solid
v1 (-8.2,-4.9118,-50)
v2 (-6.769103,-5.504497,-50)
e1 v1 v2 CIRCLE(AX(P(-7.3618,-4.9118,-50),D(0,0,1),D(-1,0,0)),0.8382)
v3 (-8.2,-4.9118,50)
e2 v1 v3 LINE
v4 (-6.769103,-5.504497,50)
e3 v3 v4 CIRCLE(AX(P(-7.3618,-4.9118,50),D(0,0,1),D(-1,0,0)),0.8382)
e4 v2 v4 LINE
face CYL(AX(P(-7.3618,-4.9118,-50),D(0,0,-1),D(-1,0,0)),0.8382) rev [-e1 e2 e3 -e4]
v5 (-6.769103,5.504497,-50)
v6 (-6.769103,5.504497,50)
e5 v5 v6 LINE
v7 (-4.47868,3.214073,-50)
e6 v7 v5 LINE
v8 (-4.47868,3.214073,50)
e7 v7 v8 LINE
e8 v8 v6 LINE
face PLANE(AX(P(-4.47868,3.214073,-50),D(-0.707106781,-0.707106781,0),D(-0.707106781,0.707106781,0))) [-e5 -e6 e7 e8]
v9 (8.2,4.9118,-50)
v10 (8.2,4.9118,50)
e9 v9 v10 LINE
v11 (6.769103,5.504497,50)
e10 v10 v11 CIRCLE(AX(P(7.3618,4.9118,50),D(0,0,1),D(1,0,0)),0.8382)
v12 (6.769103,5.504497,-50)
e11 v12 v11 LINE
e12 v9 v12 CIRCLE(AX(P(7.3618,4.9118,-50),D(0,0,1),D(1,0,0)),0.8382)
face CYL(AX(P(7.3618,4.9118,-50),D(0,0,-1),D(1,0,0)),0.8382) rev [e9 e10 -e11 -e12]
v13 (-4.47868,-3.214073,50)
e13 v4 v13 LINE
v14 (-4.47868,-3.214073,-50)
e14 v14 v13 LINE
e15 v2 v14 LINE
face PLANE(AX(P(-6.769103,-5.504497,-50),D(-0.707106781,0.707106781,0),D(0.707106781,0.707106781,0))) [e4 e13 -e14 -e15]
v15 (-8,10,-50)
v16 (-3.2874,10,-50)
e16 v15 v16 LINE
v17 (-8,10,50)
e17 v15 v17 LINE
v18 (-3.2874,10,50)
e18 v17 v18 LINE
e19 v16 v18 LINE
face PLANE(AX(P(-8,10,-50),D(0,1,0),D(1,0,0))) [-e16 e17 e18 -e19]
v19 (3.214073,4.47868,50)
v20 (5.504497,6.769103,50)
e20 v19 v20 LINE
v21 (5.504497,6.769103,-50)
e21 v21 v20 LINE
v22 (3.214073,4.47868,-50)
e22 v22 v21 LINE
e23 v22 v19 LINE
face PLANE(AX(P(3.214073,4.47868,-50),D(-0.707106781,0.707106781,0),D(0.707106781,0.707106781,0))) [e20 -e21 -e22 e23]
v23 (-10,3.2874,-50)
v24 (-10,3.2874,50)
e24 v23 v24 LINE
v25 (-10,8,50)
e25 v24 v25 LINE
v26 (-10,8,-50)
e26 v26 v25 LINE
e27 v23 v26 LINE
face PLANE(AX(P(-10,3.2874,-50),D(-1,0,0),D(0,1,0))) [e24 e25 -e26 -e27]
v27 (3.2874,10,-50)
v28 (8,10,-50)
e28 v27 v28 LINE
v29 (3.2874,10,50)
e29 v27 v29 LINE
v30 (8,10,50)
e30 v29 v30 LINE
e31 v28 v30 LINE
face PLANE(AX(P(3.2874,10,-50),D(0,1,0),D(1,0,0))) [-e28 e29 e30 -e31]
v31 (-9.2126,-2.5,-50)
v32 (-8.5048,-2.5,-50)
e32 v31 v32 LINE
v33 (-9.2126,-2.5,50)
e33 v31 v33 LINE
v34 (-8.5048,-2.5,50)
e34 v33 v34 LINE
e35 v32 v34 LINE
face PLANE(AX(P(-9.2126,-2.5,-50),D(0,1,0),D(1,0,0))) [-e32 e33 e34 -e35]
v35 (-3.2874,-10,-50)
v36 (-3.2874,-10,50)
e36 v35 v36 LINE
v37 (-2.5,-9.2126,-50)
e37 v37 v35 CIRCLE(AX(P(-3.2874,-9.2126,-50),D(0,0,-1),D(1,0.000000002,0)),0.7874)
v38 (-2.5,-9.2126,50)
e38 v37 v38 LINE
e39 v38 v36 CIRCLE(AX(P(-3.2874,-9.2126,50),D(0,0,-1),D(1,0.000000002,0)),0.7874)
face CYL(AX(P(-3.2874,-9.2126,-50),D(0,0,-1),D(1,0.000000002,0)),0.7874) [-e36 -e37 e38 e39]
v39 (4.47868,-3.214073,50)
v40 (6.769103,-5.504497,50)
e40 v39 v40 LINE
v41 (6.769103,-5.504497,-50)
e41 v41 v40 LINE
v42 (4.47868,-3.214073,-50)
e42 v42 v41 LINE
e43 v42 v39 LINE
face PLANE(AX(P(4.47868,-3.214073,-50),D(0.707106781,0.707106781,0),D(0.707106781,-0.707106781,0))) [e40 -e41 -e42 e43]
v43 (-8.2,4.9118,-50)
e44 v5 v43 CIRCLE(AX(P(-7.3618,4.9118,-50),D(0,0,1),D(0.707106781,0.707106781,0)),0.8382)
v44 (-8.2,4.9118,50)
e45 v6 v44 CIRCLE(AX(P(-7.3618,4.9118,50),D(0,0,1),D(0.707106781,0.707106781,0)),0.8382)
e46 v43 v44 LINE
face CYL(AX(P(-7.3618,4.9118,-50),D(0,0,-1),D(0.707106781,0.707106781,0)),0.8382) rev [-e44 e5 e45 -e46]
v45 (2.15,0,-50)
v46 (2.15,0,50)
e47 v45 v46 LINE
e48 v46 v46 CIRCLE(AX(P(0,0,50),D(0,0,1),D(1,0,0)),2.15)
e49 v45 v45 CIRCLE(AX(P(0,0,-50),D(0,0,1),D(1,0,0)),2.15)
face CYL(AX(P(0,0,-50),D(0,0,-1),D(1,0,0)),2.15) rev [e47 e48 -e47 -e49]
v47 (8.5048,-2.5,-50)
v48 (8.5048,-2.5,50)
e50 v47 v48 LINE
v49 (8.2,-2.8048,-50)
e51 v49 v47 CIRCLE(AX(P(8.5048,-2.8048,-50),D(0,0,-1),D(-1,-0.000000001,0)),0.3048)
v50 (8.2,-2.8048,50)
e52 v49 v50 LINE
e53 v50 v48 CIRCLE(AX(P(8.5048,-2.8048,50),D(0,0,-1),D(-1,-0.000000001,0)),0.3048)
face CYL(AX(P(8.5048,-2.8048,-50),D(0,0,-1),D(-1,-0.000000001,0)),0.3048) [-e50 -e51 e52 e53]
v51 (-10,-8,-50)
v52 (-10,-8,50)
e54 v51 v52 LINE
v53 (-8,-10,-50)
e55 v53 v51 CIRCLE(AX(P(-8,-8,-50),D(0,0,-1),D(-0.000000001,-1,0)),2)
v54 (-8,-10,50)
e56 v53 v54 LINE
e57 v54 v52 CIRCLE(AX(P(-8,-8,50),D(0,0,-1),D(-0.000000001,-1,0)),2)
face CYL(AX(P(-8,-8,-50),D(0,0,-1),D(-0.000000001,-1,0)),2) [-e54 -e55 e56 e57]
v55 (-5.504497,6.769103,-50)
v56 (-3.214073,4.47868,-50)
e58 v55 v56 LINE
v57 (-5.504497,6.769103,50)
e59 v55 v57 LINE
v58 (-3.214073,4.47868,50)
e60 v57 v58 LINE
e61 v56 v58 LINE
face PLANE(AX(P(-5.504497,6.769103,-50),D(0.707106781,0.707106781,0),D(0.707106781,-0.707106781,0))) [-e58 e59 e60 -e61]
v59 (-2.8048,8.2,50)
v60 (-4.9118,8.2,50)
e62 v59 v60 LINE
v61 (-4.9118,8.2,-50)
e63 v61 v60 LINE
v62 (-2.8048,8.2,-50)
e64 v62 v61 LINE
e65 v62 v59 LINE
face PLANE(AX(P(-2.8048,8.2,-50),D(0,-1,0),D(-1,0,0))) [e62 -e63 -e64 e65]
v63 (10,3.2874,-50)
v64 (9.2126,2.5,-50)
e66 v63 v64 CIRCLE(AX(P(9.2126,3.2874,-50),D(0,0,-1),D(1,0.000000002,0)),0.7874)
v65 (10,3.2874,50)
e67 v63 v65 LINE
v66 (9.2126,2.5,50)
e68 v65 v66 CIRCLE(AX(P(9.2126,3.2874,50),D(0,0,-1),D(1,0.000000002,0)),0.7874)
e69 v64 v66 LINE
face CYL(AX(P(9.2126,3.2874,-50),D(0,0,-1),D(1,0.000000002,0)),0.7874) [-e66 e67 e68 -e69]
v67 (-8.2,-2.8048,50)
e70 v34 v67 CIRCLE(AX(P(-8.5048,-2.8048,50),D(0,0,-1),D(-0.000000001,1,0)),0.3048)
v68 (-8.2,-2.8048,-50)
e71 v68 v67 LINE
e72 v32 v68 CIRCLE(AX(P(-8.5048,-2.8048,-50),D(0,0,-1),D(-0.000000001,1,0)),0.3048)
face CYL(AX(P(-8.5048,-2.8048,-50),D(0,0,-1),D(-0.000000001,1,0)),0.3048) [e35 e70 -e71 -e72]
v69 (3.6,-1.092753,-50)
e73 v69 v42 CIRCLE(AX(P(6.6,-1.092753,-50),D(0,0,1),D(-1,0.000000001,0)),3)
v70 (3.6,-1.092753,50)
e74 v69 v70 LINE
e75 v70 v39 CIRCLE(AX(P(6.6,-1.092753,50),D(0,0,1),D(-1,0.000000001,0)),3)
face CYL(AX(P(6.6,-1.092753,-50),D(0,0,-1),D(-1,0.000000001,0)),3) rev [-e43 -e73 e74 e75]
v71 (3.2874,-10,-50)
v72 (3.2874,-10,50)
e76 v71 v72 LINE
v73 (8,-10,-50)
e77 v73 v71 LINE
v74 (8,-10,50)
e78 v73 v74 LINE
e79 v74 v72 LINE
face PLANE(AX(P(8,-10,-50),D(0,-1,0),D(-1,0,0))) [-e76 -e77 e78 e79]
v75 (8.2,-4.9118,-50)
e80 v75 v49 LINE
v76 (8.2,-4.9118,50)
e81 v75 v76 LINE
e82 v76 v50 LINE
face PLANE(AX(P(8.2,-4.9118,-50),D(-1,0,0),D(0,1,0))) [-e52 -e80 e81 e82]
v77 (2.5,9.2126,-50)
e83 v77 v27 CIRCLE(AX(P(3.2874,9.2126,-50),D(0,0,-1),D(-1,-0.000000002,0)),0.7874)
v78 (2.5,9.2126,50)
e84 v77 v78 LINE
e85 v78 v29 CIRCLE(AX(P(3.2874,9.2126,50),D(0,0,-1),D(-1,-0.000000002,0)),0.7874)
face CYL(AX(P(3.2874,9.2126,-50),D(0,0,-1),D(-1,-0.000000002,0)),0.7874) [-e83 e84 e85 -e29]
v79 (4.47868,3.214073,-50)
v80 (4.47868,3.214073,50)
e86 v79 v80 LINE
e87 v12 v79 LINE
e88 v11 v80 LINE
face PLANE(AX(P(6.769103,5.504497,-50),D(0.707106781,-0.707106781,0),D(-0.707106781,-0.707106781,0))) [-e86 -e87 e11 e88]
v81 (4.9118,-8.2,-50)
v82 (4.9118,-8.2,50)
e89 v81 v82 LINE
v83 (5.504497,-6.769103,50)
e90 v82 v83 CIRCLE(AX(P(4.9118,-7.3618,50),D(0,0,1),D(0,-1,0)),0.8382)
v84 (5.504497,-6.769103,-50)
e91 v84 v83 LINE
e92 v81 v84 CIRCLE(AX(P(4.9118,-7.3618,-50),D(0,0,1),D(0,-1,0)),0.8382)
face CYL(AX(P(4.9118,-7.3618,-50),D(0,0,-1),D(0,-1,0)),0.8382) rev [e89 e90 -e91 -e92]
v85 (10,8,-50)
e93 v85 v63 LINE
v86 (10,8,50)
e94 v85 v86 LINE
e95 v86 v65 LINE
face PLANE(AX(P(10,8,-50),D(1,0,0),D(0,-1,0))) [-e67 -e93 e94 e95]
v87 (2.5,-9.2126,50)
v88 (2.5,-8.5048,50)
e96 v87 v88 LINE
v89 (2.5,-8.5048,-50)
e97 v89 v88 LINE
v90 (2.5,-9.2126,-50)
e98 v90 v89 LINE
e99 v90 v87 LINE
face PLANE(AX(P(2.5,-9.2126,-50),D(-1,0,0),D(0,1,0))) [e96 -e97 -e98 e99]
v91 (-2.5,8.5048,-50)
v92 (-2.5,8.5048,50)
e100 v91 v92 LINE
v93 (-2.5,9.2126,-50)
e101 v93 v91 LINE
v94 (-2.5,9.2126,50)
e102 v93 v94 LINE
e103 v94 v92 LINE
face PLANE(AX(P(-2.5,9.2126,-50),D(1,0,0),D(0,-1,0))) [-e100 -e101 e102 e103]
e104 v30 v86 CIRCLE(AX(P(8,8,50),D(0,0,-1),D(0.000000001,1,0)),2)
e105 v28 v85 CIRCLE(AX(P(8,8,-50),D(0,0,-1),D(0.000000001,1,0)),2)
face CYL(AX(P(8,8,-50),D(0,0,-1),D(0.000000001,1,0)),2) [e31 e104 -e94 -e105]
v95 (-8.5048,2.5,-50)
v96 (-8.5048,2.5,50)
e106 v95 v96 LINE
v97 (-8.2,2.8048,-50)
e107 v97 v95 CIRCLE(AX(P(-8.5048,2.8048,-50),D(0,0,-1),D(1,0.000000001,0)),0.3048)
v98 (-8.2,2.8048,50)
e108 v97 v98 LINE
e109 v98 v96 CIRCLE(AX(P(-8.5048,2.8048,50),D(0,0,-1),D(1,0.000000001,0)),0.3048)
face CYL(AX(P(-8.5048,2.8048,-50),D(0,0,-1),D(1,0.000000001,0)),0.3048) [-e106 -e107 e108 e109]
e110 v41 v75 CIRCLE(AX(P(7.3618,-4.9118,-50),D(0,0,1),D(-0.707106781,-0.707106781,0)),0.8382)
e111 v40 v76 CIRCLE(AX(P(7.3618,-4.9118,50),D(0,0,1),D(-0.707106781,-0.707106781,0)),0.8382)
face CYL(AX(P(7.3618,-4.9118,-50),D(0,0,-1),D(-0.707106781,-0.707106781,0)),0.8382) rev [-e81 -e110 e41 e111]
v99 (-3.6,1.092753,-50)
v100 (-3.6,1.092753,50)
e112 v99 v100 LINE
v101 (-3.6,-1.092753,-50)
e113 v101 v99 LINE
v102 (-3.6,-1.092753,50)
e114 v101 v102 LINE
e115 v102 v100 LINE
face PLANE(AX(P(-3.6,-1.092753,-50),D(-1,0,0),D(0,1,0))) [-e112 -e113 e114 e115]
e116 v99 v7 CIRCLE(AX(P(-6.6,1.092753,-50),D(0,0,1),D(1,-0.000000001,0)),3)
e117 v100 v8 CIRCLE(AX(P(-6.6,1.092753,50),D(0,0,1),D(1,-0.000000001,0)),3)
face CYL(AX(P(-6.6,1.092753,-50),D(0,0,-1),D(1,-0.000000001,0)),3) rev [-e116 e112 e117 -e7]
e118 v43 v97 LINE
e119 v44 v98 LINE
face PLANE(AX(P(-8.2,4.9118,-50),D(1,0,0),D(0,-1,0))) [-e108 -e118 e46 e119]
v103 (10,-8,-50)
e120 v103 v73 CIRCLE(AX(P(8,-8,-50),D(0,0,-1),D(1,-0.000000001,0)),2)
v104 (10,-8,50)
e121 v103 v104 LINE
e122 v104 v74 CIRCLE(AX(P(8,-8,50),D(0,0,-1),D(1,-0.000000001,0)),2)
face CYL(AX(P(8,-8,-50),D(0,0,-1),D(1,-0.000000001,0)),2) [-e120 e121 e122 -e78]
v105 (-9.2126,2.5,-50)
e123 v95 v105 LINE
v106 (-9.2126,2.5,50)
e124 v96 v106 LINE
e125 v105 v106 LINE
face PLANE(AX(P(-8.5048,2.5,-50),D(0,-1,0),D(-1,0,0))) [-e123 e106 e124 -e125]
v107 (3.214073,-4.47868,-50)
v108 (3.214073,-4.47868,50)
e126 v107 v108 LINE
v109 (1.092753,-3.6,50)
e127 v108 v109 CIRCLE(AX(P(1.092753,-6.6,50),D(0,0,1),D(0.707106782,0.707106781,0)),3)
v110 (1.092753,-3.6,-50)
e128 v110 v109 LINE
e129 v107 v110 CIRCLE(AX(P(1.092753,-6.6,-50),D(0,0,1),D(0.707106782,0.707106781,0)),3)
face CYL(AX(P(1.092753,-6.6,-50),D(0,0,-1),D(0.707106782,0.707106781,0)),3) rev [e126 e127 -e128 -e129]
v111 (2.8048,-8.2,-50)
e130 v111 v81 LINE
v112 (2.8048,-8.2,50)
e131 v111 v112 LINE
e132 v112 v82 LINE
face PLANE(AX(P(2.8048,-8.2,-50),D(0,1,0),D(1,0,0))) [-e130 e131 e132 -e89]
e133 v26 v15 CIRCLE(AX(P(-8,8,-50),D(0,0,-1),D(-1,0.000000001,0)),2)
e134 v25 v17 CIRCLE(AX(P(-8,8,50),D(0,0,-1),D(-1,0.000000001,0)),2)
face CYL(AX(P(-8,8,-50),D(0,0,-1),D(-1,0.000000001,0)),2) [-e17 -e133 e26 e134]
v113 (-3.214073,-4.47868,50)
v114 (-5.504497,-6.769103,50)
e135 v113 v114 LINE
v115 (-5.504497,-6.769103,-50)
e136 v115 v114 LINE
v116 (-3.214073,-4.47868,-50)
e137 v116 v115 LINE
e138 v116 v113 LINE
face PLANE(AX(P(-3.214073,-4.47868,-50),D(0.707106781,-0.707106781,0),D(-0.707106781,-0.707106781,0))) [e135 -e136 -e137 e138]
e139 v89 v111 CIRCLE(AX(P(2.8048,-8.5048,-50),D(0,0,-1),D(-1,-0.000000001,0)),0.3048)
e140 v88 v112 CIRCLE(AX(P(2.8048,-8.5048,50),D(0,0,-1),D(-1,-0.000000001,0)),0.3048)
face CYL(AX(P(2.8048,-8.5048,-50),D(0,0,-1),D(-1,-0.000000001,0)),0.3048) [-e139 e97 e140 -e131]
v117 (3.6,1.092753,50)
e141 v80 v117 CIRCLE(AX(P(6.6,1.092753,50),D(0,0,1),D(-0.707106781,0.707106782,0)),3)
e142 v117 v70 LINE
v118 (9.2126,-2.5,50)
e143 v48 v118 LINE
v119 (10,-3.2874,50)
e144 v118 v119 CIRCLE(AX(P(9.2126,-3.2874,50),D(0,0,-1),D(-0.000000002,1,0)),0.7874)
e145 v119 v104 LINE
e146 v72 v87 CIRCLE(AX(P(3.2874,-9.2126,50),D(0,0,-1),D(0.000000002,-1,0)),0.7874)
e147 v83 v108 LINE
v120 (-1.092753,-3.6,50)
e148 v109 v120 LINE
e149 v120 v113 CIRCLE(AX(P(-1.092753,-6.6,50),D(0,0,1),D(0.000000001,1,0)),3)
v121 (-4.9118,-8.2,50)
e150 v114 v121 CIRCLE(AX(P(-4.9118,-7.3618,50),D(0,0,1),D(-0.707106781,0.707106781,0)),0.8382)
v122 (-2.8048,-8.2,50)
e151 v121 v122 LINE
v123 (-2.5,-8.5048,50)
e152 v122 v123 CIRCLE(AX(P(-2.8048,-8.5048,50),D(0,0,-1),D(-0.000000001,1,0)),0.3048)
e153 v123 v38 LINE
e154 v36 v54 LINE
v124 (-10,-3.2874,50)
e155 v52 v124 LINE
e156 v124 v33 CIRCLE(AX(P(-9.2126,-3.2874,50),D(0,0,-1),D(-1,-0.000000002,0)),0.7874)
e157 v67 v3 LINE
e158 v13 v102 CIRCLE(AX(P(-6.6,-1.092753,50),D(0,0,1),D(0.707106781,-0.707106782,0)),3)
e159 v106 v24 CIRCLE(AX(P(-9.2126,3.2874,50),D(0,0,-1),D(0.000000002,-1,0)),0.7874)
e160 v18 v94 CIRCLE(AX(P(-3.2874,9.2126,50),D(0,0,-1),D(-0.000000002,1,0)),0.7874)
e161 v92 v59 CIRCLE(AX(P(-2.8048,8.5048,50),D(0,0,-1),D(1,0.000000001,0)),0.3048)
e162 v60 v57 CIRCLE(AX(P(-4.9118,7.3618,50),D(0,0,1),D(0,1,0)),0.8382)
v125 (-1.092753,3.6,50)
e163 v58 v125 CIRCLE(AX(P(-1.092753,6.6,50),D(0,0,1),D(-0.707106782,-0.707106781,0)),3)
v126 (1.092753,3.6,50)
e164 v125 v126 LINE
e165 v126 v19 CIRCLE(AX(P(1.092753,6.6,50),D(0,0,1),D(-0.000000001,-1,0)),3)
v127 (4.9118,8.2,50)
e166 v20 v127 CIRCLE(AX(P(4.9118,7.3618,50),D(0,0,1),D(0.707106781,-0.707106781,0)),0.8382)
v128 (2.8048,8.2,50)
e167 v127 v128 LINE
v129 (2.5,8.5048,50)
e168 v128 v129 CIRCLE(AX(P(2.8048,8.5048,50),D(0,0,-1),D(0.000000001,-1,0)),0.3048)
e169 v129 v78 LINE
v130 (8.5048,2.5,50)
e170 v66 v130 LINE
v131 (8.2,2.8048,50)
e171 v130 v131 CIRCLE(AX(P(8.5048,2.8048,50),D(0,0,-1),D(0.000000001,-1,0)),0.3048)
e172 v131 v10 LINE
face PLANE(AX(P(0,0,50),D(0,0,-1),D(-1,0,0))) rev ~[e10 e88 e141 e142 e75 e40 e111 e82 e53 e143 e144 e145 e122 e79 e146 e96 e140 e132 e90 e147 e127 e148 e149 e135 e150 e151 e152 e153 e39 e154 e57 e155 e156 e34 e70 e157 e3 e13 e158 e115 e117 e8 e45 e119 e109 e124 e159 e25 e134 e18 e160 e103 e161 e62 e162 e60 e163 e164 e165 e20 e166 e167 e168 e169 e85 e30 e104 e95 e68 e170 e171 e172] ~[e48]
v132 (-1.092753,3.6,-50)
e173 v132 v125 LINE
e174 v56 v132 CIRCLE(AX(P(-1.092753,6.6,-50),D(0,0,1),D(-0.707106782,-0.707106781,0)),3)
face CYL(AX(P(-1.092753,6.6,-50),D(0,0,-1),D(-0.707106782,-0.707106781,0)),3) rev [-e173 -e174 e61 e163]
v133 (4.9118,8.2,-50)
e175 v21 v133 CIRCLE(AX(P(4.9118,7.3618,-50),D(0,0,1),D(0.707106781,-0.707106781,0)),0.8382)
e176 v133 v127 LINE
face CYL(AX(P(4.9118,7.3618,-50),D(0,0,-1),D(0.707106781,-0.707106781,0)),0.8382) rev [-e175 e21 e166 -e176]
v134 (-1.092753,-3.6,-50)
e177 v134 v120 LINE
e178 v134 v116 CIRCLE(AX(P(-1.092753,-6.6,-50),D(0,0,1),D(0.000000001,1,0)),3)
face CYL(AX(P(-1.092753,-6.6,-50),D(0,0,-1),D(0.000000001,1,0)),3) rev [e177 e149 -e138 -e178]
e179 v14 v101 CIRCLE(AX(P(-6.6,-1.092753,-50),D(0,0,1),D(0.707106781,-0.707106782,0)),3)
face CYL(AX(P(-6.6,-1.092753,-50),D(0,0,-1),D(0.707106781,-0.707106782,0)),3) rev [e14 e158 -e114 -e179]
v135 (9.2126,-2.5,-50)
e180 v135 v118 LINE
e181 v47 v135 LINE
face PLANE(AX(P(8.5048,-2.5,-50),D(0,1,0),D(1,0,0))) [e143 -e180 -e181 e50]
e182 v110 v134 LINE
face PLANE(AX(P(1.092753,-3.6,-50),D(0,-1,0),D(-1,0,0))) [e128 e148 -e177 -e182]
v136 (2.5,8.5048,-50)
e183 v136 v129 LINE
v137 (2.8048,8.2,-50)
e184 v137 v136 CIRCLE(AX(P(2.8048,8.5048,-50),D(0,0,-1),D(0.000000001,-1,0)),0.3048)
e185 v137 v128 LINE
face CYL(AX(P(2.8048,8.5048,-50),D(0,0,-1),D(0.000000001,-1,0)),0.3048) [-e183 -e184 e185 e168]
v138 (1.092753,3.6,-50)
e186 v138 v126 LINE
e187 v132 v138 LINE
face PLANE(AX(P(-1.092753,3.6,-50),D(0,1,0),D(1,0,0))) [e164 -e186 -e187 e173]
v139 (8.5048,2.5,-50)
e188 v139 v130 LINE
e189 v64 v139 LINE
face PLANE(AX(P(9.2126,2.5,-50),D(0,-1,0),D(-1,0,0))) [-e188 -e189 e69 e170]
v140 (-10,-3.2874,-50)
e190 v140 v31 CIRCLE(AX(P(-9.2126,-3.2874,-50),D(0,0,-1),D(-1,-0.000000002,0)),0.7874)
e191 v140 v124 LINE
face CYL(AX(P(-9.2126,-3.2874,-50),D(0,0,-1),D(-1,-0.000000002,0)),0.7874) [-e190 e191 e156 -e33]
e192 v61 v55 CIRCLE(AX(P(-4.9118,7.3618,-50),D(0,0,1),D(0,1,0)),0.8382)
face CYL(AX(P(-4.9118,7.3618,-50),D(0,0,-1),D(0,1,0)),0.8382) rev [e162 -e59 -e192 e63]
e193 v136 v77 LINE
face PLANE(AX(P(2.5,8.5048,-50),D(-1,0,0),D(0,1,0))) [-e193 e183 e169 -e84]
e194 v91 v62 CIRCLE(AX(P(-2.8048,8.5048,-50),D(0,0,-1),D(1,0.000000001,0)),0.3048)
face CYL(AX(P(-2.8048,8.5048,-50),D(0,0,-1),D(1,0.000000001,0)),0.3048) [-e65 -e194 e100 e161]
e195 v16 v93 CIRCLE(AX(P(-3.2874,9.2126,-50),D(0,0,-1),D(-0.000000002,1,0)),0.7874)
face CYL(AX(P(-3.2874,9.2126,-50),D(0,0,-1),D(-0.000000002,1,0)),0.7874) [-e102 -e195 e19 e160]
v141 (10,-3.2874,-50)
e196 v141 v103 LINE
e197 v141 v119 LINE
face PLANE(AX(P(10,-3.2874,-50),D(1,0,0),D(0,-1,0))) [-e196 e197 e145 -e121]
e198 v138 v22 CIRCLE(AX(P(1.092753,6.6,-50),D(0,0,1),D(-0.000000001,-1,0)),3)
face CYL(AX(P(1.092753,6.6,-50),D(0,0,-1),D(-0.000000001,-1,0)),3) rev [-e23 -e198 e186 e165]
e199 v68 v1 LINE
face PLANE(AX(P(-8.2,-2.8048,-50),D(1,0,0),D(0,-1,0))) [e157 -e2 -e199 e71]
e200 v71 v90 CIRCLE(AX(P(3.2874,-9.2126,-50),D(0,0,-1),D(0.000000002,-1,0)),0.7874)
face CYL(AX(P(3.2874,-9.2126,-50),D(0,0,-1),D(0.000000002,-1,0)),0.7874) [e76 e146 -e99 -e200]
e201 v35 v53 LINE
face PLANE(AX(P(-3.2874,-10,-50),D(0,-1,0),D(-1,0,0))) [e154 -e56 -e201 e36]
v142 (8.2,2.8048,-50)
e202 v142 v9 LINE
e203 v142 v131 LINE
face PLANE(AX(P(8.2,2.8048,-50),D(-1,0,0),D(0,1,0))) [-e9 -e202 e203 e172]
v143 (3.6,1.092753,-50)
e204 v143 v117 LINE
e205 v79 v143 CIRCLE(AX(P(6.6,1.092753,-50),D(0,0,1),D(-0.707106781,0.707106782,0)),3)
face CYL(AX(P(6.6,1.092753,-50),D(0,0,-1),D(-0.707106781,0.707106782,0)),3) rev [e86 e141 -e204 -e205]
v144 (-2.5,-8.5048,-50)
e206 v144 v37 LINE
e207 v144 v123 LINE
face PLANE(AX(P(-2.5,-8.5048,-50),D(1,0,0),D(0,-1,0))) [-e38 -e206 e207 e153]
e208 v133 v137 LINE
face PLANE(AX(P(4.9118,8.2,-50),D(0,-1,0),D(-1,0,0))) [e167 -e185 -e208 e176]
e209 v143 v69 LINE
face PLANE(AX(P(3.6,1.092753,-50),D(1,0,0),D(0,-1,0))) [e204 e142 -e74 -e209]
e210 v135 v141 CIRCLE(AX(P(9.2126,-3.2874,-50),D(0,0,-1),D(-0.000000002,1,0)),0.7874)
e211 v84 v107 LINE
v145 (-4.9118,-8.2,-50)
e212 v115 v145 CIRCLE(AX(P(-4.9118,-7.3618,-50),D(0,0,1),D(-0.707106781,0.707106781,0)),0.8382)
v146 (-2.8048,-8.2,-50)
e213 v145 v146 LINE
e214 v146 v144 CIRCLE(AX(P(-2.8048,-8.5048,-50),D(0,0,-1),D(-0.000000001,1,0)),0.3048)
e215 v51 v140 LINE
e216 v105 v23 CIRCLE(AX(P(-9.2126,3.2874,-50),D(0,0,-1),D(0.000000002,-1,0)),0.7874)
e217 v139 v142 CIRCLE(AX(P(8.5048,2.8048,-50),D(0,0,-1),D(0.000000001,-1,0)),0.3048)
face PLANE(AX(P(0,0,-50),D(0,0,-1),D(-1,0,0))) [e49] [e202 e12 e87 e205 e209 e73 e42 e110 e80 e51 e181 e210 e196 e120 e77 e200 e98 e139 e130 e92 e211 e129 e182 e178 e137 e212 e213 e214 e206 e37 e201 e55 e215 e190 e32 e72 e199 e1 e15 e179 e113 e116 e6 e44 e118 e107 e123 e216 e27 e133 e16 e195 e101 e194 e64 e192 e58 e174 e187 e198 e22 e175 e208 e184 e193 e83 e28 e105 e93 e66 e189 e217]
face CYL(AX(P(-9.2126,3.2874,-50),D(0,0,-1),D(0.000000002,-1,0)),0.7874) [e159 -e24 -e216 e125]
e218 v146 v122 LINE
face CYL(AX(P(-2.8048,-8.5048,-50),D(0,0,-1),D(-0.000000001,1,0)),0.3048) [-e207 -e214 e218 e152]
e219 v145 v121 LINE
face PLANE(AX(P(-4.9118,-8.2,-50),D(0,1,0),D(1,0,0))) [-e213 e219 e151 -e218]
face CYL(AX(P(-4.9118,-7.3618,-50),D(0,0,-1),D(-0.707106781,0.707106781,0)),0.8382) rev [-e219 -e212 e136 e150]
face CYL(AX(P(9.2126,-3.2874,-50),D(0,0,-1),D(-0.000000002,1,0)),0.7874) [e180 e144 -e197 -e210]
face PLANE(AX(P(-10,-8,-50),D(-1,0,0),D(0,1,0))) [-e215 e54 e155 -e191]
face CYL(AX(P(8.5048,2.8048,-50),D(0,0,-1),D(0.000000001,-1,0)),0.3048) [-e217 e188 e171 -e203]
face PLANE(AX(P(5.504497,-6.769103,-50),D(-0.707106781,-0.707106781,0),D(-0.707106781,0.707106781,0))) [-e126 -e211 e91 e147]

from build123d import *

# Parameters (mm, degrees)
BOSS_EXTRUDE1_DEPTH      = 50
BOSS_EXTRUDE1_DEPTH_BACK = 50
SKETCH3_R                = 2.15


with BuildPart() as part:
    # Sketch3 → Boss-Extrude1 (new, two sides: drawn at the far end of the back side and taken through both)
    with BuildSketch(Plane.XY.offset(-BOSS_EXTRUDE1_DEPTH_BACK)):
        with BuildLine():
            Line((8, 10), (3.2874, 10))
            ThreePointArc((3.2874, 10), (2.73062412, 9.76937588), (2.5, 9.2126))
            Line((2.5, 9.2126), (2.5, 8.5048))
            ThreePointArc((2.5, 8.5048), (2.589273853, 8.289273853), (2.8048, 8.2))
            Line((2.8048, 8.2), (4.9118, 8.2))
            ThreePointArc((4.9118, 8.2), (5.686195824, 7.682565253), (5.504496904, 6.769103096))
            Line((5.504496904, 6.769103096), (3.214073464, 4.478679656))
            ThreePointArc((3.214073464, 4.478679656), (2.240803418, 3.828361402), (1.092753121, 3.6))
            Line((1.092753121, 3.6), (-1.092753121, 3.6))
            ThreePointArc((-1.092753121, 3.6), (-2.240803418, 3.828361402), (-3.214073464, 4.478679656))
            Line((-3.214073464, 4.478679656), (-5.504496904, 6.769103096))
            ThreePointArc((-5.504496904, 6.769103096), (-5.686195824, 7.682565253), (-4.9118, 8.2))
            Line((-4.9118, 8.2), (-2.8048, 8.2))
            ThreePointArc((-2.8048, 8.2), (-2.589273853, 8.289273853), (-2.5, 8.5048))
            Line((-2.5, 8.5048), (-2.5, 9.2126))
            ThreePointArc((-2.5, 9.2126), (-2.73062412, 9.76937588), (-3.2874, 10))
            Line((-3.2874, 10), (-8, 10))
            ThreePointArc((-8, 10), (-9.414213562, 9.414213562), (-10, 8))
            Line((-10, 8), (-10, 3.2874))
            ThreePointArc((-10, 3.2874), (-9.76937588, 2.73062412), (-9.2126, 2.5))
            Line((-9.2126, 2.5), (-8.5048, 2.5))
            ThreePointArc((-8.5048, 2.5), (-8.289273853, 2.589273853), (-8.2, 2.8048))
            Line((-8.2, 2.8048), (-8.2, 4.9118))
            ThreePointArc((-8.2, 4.9118), (-7.682565253, 5.686195824), (-6.769103096, 5.504496904))
            Line((-6.769103096, 5.504496904), (-4.478679656, 3.214073464))
            ThreePointArc((-4.478679656, 3.214073464), (-3.828361402, 2.240803418), (-3.6, 1.092753121))
            Line((-3.6, 1.092753121), (-3.6, -1.092753121))
            ThreePointArc((-3.6, -1.092753121), (-3.828361402, -2.240803418), (-4.478679656, -3.214073464))
            Line((-4.478679656, -3.214073464), (-6.769103096, -5.504496904))
            ThreePointArc((-6.769103096, -5.504496904), (-7.682565253, -5.686195824), (-8.2, -4.9118))
            Line((-8.2, -4.9118), (-8.2, -2.8048))
            ThreePointArc((-8.2, -2.8048), (-8.289273853, -2.589273853), (-8.5048, -2.5))
            Line((-8.5048, -2.5), (-9.2126, -2.5))
            ThreePointArc((-9.2126, -2.5), (-9.76937588, -2.73062412), (-10, -3.2874))
            Line((-10, -3.2874), (-10, -8))
            ThreePointArc((-10, -8), (-9.414213562, -9.414213562), (-8, -10))
            Line((-8, -10), (-3.2874, -10))
            ThreePointArc((-3.2874, -10), (-2.73062412, -9.76937588), (-2.5, -9.2126))
            Line((-2.5, -9.2126), (-2.5, -8.5048))
            ThreePointArc((-2.5, -8.5048), (-2.589273853, -8.289273853), (-2.8048, -8.2))
            Line((-2.8048, -8.2), (-4.9118, -8.2))
            ThreePointArc((-4.9118, -8.2), (-5.686195824, -7.682565253), (-5.504496904, -6.769103096))
            Line((-5.504496904, -6.769103096), (-3.214073464, -4.478679656))
            ThreePointArc((-3.214073464, -4.478679656), (-2.240803418, -3.828361402), (-1.092753121, -3.6))
            Line((-1.092753121, -3.6), (1.092753121, -3.6))
            ThreePointArc((1.092753121, -3.6), (2.240803418, -3.828361402), (3.214073464, -4.478679656))
            Line((3.214073464, -4.478679656), (5.504496904, -6.769103096))
            ThreePointArc((5.504496904, -6.769103096), (5.686195824, -7.682565253), (4.9118, -8.2))
            Line((4.9118, -8.2), (2.8048, -8.2))
            ThreePointArc((2.8048, -8.2), (2.589273853, -8.289273853), (2.5, -8.5048))
            Line((2.5, -8.5048), (2.5, -9.2126))
            ThreePointArc((2.5, -9.2126), (2.73062412, -9.76937588), (3.2874, -10))
            Line((3.2874, -10), (8, -10))
            ThreePointArc((8, -10), (9.414213562, -9.414213562), (10, -8))
            Line((10, -8), (10, -3.2874))
            ThreePointArc((10, -3.2874), (9.76937588, -2.73062412), (9.2126, -2.5))
            Line((9.2126, -2.5), (8.5048, -2.5))
            ThreePointArc((8.5048, -2.5), (8.289273853, -2.589273853), (8.2, -2.8048))
            Line((8.2, -2.8048), (8.2, -4.9118))
            ThreePointArc((8.2, -4.9118), (7.682565253, -5.686195824), (6.769103096, -5.504496904))
            Line((6.769103096, -5.504496904), (4.478679656, -3.214073464))
            ThreePointArc((4.478679656, -3.214073464), (3.828361402, -2.240803418), (3.6, -1.092753121))
            Line((3.6, -1.092753121), (3.6, 1.092753121))
            ThreePointArc((3.6, 1.092753121), (3.828361402, 2.240803418), (4.478679656, 3.214073464))
            Line((4.478679656, 3.214073464), (6.769103096, 5.504496904))
            ThreePointArc((6.769103096, 5.504496904), (7.682565253, 5.686195824), (8.2, 4.9118))
            Line((8.2, 4.9118), (8.2, 2.8048))
            ThreePointArc((8.2, 2.8048), (8.289273853, 2.589273853), (8.5048, 2.5))
            Line((8.5048, 2.5), (9.2126, 2.5))
            ThreePointArc((9.2126, 2.5), (9.76937588, 2.73062412), (10, 3.2874))
            Line((10, 3.2874), (10, 8))
            ThreePointArc((10, 8), (9.414213562, 9.414213562), (8, 10))
        make_face()
        Circle(SKETCH3_R, mode=Mode.SUBTRACT)
    extrude(amount=BOSS_EXTRUDE1_DEPTH + BOSS_EXTRUDE1_DEPTH_BACK)


solid = part.part
